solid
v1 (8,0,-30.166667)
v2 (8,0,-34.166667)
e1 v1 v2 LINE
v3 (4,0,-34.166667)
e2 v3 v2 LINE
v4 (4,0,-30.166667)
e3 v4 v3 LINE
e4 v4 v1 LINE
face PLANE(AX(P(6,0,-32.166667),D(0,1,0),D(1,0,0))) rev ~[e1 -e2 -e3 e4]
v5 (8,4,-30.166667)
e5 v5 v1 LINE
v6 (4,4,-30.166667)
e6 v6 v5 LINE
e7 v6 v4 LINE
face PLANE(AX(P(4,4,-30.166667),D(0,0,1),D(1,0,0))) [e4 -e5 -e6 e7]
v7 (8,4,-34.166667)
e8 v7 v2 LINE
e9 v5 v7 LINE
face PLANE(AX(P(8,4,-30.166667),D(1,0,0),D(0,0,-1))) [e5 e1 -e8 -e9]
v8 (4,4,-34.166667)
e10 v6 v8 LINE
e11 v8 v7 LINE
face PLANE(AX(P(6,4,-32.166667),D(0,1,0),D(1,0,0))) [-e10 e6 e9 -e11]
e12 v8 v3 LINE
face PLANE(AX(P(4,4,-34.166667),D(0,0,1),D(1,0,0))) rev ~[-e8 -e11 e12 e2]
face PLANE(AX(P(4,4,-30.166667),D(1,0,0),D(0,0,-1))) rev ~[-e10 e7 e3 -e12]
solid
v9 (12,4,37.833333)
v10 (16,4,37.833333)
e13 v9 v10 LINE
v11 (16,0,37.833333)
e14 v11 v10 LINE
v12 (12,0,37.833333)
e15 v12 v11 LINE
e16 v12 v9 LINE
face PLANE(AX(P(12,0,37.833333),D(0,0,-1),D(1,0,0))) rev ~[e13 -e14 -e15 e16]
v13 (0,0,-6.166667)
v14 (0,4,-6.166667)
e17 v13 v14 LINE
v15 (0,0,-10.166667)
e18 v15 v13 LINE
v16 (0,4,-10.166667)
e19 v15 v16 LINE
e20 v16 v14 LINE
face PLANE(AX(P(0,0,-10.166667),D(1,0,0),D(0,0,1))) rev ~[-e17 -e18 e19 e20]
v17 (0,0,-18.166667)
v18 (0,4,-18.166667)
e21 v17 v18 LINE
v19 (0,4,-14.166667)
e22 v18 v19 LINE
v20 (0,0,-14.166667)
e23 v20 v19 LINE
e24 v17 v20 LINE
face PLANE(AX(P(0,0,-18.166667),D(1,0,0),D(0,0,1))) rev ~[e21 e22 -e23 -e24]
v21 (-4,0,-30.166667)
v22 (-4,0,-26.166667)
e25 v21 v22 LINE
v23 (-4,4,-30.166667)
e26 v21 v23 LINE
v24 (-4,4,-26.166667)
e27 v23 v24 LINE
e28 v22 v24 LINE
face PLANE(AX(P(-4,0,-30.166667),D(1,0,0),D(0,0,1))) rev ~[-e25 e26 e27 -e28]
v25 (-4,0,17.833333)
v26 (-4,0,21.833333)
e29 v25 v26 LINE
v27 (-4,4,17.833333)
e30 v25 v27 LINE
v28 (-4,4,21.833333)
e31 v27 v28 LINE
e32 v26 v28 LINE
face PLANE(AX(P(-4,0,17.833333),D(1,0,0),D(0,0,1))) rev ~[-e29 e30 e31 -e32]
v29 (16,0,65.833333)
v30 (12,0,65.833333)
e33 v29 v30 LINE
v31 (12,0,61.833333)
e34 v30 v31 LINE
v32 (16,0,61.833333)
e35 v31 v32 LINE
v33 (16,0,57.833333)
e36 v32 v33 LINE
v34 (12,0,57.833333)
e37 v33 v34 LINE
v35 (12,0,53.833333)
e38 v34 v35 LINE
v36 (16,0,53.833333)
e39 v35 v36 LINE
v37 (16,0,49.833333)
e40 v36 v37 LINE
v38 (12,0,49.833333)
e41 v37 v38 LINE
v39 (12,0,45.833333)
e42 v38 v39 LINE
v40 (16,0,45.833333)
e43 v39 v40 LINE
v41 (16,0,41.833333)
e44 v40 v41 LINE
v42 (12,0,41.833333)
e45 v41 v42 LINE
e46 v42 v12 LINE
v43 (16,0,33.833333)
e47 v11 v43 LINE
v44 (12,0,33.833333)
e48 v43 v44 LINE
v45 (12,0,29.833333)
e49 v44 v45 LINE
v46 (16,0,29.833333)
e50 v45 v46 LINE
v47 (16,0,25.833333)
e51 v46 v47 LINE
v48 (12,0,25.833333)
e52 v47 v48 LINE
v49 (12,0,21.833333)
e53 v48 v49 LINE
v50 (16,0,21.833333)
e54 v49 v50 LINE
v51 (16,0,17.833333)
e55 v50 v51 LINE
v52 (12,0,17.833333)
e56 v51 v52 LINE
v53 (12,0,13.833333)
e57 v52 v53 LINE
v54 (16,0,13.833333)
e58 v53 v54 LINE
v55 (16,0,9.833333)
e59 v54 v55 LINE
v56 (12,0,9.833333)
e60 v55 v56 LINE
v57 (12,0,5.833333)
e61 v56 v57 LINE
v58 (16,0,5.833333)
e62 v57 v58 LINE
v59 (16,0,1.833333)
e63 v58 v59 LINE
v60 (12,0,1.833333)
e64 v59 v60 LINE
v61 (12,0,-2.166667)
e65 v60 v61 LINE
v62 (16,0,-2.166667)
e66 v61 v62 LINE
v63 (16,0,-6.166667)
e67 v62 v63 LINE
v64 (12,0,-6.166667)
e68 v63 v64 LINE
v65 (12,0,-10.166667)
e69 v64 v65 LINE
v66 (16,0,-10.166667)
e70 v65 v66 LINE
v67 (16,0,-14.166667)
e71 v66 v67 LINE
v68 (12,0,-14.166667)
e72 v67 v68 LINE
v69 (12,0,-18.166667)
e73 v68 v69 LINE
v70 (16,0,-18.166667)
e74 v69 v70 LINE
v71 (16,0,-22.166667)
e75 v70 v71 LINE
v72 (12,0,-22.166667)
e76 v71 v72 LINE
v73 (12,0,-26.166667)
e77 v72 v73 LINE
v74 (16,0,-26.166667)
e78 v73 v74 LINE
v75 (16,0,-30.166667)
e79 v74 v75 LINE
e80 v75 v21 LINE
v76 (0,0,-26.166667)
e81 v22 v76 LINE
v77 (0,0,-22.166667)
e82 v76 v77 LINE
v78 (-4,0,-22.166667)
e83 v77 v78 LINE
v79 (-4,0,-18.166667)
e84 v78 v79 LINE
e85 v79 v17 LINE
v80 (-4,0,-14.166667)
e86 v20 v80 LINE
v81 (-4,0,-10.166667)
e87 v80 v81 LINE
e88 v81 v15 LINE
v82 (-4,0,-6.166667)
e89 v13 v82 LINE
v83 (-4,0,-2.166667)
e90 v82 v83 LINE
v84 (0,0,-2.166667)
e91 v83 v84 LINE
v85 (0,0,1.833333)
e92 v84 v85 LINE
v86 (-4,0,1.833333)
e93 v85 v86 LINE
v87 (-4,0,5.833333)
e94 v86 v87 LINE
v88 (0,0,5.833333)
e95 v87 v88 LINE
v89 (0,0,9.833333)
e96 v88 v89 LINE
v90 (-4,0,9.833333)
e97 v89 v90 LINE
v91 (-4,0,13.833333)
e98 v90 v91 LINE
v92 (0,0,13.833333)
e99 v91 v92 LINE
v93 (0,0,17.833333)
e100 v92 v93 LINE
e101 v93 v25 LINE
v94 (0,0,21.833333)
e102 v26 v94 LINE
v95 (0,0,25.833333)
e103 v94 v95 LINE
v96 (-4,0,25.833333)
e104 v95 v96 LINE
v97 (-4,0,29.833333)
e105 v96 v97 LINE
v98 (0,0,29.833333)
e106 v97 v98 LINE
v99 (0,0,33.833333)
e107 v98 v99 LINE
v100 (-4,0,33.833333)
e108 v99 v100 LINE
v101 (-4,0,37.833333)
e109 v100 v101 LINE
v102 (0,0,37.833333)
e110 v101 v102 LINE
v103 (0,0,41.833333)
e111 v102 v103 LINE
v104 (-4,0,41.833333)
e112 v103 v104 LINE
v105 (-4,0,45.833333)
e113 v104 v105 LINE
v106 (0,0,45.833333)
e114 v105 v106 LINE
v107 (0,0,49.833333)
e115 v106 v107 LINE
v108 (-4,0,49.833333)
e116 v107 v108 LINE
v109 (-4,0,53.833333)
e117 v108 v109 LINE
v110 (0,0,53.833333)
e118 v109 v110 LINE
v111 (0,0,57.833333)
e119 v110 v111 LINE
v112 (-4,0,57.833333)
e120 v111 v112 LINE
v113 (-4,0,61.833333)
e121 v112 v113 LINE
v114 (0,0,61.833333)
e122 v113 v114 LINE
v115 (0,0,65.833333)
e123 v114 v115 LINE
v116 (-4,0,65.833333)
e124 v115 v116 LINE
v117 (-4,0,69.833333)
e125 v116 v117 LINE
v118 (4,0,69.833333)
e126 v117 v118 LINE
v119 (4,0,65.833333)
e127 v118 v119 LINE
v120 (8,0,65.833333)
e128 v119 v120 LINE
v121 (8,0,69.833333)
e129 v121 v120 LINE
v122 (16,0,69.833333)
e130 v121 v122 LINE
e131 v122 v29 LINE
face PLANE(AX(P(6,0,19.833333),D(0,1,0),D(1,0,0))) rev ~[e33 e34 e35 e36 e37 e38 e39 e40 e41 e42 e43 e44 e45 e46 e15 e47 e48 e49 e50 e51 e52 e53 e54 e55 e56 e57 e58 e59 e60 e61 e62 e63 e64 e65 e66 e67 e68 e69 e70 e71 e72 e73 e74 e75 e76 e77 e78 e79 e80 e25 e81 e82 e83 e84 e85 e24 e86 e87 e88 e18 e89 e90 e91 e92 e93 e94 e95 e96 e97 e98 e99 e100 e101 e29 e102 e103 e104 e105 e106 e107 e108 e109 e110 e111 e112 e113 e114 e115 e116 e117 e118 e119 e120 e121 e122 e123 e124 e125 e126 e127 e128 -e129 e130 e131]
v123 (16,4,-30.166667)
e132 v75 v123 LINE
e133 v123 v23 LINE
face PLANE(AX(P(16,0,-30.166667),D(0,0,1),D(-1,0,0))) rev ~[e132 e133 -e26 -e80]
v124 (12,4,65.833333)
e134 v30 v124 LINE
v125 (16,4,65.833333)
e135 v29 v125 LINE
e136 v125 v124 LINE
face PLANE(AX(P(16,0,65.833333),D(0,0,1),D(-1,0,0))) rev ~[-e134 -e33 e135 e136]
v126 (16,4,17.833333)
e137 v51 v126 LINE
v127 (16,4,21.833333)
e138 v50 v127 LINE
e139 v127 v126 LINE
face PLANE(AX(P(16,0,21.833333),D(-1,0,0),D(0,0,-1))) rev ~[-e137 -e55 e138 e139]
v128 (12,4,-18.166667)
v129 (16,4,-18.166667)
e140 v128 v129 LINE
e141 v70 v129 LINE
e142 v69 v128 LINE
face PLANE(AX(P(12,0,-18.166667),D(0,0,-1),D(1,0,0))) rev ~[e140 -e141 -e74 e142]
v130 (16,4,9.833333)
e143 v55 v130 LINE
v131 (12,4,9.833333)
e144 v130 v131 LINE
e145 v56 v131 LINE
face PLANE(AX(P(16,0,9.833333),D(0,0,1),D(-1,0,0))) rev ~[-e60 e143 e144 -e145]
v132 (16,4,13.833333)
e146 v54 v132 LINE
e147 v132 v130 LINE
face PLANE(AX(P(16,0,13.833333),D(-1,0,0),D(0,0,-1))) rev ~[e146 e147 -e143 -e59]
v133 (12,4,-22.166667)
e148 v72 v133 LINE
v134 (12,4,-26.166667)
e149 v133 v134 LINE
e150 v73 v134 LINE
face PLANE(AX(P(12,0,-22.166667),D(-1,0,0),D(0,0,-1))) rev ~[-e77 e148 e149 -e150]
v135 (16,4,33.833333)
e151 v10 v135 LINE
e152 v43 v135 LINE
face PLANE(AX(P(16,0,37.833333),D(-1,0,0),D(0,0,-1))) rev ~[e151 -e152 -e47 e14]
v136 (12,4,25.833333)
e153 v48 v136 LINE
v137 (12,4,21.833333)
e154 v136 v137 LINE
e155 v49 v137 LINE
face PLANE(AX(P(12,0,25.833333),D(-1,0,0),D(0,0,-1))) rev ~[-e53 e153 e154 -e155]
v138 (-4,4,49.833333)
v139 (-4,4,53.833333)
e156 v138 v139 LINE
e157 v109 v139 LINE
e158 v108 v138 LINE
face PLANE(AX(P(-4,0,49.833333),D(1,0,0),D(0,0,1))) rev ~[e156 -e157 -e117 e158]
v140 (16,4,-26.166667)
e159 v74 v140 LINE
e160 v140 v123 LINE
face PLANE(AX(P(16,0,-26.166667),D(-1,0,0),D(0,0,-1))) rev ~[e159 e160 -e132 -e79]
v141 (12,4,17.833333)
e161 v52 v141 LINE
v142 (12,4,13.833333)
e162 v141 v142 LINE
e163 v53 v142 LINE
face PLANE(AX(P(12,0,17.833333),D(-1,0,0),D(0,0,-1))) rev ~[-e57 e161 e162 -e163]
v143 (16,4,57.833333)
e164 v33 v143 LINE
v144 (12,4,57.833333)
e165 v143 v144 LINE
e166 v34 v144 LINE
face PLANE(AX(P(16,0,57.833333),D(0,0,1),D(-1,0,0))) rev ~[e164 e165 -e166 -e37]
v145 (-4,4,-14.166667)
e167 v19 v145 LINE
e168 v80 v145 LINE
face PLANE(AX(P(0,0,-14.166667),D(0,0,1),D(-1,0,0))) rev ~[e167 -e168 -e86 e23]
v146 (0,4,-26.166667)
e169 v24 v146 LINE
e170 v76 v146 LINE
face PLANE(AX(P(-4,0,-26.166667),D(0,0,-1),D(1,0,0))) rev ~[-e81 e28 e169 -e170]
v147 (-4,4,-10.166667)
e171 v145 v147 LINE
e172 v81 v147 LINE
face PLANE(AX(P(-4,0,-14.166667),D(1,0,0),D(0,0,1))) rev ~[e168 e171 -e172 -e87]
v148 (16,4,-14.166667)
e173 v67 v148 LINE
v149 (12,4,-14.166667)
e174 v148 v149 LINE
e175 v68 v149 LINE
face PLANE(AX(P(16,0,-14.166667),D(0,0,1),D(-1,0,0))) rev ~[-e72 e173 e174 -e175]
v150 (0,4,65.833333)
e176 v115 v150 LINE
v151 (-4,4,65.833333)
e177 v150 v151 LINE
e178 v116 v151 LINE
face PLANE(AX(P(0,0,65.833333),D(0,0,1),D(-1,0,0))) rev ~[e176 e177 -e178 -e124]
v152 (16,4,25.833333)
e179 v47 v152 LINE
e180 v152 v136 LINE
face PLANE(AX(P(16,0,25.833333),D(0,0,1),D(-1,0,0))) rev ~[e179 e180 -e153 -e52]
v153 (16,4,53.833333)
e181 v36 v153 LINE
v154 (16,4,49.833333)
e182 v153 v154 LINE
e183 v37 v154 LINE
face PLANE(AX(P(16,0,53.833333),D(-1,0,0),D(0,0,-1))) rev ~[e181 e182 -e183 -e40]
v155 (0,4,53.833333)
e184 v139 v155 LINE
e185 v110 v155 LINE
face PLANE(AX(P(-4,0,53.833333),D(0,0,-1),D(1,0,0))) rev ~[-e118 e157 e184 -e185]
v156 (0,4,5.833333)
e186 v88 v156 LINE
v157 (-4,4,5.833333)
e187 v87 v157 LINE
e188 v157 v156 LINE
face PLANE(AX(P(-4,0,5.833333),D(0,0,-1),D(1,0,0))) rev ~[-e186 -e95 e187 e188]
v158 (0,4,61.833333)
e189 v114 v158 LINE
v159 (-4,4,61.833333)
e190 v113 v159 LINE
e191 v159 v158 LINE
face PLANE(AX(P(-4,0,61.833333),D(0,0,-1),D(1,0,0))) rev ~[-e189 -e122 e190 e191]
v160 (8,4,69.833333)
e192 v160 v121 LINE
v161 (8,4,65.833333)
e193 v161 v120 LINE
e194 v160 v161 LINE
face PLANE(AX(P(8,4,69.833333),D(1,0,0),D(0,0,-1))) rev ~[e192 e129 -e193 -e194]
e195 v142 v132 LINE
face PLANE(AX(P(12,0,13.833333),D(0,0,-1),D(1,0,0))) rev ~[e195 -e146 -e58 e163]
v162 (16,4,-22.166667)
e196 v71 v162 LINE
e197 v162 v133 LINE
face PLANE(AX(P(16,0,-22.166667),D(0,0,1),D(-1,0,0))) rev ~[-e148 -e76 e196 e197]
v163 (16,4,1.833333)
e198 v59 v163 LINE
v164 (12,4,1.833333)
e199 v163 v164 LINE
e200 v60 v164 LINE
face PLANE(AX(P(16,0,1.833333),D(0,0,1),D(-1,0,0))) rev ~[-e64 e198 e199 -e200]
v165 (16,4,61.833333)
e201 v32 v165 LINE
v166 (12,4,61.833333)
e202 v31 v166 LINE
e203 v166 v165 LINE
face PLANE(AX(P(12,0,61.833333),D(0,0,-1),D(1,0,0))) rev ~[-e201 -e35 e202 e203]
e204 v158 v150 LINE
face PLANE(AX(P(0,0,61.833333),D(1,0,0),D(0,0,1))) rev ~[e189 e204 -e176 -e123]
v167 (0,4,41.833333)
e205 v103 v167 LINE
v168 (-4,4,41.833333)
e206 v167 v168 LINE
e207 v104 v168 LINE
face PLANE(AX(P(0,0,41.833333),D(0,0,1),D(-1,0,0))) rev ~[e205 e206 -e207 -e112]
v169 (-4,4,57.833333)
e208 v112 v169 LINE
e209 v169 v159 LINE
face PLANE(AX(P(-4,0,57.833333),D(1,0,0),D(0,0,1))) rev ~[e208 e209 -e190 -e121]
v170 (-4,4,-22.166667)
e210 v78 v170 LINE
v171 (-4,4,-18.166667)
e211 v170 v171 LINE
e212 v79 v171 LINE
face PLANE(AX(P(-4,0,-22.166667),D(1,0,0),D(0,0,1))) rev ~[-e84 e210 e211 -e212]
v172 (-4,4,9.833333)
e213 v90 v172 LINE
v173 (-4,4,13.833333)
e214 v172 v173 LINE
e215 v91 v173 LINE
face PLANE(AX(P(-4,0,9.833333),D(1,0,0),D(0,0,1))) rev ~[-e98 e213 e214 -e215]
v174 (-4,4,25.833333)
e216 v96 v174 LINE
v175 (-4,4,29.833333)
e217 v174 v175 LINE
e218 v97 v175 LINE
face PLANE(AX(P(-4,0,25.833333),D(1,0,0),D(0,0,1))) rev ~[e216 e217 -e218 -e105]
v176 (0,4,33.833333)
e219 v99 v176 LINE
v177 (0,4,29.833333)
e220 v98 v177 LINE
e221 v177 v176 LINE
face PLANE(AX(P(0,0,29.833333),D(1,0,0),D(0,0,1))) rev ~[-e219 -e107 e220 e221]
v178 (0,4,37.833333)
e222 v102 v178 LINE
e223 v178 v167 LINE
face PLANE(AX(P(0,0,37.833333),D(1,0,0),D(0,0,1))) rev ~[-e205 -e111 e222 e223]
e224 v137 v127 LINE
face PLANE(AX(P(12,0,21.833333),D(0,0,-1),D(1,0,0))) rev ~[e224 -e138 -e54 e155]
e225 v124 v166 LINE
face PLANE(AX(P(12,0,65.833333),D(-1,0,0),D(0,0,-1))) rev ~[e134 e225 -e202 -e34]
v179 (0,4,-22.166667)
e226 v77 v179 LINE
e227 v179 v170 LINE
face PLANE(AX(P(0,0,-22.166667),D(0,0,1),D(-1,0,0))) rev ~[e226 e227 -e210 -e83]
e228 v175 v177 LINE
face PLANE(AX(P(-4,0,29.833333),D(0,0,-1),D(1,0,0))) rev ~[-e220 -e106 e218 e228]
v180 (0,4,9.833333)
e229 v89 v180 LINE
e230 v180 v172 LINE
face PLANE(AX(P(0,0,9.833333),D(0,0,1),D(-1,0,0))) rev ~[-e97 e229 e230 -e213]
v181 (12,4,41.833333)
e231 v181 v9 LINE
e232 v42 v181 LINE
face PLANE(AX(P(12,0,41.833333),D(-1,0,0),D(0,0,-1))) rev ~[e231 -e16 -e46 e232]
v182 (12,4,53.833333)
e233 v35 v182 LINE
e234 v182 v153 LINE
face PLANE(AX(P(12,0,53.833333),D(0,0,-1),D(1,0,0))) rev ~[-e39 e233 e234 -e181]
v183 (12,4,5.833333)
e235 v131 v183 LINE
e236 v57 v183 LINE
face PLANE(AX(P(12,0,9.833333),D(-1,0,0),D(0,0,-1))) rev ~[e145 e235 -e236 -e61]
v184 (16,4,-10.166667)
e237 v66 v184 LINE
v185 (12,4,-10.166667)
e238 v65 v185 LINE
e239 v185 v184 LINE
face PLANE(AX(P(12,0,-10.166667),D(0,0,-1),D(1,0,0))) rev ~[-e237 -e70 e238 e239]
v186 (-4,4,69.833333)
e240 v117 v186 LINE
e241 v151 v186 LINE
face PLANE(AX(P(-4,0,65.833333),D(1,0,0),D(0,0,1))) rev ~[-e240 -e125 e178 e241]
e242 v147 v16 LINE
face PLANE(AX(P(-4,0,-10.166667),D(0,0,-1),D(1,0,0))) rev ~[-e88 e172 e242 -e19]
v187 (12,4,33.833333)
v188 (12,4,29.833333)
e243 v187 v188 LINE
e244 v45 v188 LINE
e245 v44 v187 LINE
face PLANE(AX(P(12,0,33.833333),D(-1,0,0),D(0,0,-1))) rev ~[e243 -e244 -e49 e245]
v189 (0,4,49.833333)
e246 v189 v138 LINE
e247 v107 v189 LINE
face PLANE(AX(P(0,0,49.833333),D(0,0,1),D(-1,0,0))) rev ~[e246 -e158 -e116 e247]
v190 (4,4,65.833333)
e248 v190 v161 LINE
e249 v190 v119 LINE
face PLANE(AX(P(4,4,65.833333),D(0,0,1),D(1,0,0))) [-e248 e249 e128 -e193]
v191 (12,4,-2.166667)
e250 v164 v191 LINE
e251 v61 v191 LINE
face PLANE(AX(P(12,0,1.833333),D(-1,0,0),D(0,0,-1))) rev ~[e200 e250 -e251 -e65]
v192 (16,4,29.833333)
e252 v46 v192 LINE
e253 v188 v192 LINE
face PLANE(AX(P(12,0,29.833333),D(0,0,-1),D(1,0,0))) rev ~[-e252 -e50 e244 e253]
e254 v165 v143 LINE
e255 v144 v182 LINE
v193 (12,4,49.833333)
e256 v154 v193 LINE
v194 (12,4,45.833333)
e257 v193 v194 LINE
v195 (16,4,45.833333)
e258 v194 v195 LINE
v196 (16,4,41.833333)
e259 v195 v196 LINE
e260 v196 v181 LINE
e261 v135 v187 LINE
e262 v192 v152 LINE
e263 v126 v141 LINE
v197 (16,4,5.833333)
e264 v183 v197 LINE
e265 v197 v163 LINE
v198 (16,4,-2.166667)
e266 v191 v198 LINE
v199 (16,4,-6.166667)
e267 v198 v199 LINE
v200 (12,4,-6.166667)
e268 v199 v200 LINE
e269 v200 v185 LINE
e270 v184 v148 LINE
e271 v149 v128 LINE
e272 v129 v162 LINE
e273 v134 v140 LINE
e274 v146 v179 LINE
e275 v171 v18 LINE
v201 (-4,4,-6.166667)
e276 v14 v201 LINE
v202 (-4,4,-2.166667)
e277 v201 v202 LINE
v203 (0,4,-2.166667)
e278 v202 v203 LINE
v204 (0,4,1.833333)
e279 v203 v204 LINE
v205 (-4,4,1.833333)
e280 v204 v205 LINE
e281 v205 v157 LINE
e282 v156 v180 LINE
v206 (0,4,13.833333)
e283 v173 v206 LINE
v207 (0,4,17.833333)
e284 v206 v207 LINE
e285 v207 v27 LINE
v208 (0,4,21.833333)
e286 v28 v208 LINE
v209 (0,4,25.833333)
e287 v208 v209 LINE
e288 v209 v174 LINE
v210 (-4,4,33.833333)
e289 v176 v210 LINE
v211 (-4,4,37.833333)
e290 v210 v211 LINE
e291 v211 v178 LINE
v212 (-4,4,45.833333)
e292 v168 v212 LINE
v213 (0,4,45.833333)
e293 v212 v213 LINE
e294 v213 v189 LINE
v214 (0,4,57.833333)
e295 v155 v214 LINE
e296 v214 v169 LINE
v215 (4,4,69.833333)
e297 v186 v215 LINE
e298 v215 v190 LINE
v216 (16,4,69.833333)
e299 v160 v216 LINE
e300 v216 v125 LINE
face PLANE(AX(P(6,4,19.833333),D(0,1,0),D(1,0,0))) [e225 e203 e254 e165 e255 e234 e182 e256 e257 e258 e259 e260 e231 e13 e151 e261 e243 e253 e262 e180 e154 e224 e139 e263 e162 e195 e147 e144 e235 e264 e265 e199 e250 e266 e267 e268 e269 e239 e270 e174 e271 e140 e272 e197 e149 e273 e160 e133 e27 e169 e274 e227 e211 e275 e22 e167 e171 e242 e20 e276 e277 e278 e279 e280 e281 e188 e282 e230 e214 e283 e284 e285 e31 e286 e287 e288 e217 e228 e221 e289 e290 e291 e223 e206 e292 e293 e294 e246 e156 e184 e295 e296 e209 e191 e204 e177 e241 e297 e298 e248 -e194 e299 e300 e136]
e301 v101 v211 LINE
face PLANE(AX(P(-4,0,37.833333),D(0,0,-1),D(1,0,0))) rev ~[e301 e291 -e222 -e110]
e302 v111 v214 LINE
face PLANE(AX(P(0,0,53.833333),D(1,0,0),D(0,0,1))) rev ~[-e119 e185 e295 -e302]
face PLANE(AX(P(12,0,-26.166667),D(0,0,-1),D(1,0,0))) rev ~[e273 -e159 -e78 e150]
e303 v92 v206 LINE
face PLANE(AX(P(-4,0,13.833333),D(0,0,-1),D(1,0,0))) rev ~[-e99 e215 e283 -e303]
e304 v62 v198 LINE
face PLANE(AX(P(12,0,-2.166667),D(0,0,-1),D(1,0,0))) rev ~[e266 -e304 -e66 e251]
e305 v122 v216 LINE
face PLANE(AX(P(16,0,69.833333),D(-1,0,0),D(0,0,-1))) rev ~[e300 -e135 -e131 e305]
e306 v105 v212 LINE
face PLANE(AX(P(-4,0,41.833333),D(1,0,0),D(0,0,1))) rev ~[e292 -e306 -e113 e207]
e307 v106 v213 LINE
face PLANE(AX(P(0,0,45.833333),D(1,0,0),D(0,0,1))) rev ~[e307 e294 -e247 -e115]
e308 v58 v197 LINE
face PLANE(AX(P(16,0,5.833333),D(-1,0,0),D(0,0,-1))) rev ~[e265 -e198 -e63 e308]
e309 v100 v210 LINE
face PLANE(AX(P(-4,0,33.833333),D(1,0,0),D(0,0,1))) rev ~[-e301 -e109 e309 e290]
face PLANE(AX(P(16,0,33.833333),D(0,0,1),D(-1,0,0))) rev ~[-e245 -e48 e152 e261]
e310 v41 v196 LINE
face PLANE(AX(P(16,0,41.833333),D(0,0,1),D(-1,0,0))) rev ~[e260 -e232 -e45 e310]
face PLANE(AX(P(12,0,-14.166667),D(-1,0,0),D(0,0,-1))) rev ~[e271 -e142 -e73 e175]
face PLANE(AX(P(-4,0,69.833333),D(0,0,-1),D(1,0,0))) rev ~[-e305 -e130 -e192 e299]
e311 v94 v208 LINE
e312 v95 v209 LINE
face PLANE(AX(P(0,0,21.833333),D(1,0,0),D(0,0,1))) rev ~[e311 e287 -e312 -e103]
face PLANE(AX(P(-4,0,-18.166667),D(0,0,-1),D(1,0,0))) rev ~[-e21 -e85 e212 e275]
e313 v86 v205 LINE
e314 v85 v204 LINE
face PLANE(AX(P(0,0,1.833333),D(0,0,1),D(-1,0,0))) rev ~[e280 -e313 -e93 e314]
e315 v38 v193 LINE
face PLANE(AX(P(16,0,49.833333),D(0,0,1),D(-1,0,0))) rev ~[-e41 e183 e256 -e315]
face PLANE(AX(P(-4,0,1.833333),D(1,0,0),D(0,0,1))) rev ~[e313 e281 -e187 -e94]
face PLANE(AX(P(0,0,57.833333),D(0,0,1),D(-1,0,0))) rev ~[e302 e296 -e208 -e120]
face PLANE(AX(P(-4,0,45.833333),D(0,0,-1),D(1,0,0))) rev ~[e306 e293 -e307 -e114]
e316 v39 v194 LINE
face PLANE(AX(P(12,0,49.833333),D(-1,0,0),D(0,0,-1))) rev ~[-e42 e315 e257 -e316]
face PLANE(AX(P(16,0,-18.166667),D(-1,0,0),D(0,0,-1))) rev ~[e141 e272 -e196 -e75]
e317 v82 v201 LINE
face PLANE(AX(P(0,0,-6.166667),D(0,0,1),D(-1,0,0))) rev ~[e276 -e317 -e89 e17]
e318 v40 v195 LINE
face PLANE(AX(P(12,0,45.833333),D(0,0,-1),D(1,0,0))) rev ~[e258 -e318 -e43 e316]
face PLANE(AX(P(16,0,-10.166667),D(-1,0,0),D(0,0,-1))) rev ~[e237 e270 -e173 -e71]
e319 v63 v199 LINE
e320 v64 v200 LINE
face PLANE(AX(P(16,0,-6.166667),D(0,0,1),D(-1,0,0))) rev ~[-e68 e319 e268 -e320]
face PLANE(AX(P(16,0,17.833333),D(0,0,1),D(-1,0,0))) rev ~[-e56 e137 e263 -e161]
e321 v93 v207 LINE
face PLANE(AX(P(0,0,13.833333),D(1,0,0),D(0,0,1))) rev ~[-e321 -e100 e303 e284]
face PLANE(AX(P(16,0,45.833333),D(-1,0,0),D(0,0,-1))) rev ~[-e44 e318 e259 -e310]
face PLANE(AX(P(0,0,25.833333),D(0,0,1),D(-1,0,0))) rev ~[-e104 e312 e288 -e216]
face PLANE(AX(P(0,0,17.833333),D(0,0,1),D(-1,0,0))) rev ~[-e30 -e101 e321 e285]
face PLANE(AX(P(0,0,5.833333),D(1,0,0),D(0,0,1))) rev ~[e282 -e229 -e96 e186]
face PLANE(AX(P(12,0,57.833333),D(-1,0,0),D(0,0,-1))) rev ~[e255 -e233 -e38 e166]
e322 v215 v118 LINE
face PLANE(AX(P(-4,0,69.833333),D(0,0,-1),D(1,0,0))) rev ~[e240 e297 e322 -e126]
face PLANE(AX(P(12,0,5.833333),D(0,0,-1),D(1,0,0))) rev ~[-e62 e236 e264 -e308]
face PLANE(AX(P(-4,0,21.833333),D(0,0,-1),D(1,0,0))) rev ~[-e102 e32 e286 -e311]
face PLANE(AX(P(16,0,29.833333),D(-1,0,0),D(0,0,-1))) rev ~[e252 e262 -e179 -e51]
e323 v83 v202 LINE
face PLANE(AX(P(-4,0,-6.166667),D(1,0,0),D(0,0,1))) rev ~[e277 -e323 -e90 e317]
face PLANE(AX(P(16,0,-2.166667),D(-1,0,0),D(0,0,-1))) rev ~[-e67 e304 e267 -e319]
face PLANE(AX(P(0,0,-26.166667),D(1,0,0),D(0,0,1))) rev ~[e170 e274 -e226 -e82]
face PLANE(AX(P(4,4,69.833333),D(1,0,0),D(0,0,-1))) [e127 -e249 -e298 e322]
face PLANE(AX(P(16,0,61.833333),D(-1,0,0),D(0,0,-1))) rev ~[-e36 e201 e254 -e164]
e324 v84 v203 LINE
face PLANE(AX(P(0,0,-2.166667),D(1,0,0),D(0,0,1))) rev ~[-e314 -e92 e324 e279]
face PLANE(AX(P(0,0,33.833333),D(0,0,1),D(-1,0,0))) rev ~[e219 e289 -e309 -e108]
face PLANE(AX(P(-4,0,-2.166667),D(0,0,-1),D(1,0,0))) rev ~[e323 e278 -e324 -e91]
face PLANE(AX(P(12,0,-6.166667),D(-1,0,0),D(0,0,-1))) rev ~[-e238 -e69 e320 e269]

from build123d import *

# Parameters (mm, degrees)
BOSS_EXTRUDE1_DEPTH = 4
SKETCH2_W           = 4
SKETCH2_H           = 4
BOSS_EXTRUDE2_DEPTH = 4
SKETCH3_W           = 4
SKETCH3_H           = 4
CUT_EXTRUDE1_DEPTH  = 10


with BuildPart() as part:
    # Sketch1 → Boss-Extrude1 (new body)
    with BuildSketch(Plane(origin=(0, 0, 0), x_dir=(1, 0, 0), z_dir=(0, 1, 0))):
        Polygon((0, 30.166666667), (-4, 30.166666667), (-4, 26.166666667), (0, 26.166666667), (0, 22.166666667), (-4, 22.166666667), (-4, 18.166666667), (0, 18.166666667), (0, 14.166666667), (-4, 14.166666667), (-4, 10.166666667), (0, 10.166666667), (0, 6.166666667), (-4, 6.166666667), (-4, 2.166666667), (0, 2.166666667), (0, -1.833333333), (-4, -1.833333333), (-4, -5.833333333), (0, -5.833333333), (0, -9.833333333), (-4, -9.833333333), (-4, -13.833333333), (0, -13.833333333), (0, -17.833333333), (-4, -17.833333333), (-4, -21.833333333), (0, -21.833333333), (0, -25.833333333), (-4, -25.833333333), (-4, -29.833333333), (0, -29.833333333), (0, -33.833333333), (-4, -33.833333333), (-4, -37.833333333), (0, -37.833333333), (0, -41.833333333), (-4, -41.833333333), (-4, -45.833333333), (0, -45.833333333), (0, -49.833333333), (-4, -49.833333333), (-4, -53.833333333), (0, -53.833333333), (0, -57.833333333), (-4, -57.833333333), (-4, -61.833333333), (0, -61.833333333), (0, -65.833333333), (-4, -65.833333333), (-4, -69.833333333), (16, -69.833333333), (16, -65.833333333), (12, -65.833333333), (12, -61.833333333), (16, -61.833333333), (16, -57.833333333), (12, -57.833333333), (12, -53.833333333), (16, -53.833333333), (16, -49.833333333), (12, -49.833333333), (12, -45.833333333), (16, -45.833333333), (16, -41.833333333), (12, -41.833333333), (12, -37.833333333), (16, -37.833333333), (16, -33.833333333), (12, -33.833333333), (12, -29.833333333), (16, -29.833333333), (16, -25.833333333), (12, -25.833333333), (12, -21.833333333), (16, -21.833333333), (16, -17.833333333), (12, -17.833333333), (12, -13.833333333), (16, -13.833333333), (16, -9.833333333), (12, -9.833333333), (12, -5.833333333), (16, -5.833333333), (16, -1.833333333), (12, -1.833333333), (12, 2.166666667), (16, 2.166666667), (16, 6.166666667), (12, 6.166666667), (12, 10.166666667), (16, 10.166666667), (16, 14.166666667), (12, 14.166666667), (12, 18.166666667), (16, 18.166666667), (16, 22.166666667), (12, 22.166666667), (12, 26.166666667), (16, 26.166666667), (16, 30.166666667), (12, 30.166666667), align=None)
    extrude(amount=BOSS_EXTRUDE1_DEPTH)

    # Sketch3 → Cut-Extrude1 (cut)
    with BuildSketch(Plane(origin=(0, 4, 0), x_dir=(1, 0, 0), z_dir=(0, 1, 0))):
        with Locations((6, -67.833333333)):
            Rectangle(SKETCH3_W, SKETCH3_H)
    extrude(amount=-CUT_EXTRUDE1_DEPTH, mode=Mode.SUBTRACT)


with BuildPart() as body_2:
    # Sketch2 → Boss-Extrude2 (new body)
    with BuildSketch(Plane(origin=(0, 4, 0), x_dir=(1, 0, 0), z_dir=(0, 1, 0))):
        with Locations((6, 32.166666667)):
            Rectangle(SKETCH2_W, SKETCH2_H)
    extrude(amount=-BOSS_EXTRUDE2_DEPTH)


solid = Compound([part.part, body_2.part])
